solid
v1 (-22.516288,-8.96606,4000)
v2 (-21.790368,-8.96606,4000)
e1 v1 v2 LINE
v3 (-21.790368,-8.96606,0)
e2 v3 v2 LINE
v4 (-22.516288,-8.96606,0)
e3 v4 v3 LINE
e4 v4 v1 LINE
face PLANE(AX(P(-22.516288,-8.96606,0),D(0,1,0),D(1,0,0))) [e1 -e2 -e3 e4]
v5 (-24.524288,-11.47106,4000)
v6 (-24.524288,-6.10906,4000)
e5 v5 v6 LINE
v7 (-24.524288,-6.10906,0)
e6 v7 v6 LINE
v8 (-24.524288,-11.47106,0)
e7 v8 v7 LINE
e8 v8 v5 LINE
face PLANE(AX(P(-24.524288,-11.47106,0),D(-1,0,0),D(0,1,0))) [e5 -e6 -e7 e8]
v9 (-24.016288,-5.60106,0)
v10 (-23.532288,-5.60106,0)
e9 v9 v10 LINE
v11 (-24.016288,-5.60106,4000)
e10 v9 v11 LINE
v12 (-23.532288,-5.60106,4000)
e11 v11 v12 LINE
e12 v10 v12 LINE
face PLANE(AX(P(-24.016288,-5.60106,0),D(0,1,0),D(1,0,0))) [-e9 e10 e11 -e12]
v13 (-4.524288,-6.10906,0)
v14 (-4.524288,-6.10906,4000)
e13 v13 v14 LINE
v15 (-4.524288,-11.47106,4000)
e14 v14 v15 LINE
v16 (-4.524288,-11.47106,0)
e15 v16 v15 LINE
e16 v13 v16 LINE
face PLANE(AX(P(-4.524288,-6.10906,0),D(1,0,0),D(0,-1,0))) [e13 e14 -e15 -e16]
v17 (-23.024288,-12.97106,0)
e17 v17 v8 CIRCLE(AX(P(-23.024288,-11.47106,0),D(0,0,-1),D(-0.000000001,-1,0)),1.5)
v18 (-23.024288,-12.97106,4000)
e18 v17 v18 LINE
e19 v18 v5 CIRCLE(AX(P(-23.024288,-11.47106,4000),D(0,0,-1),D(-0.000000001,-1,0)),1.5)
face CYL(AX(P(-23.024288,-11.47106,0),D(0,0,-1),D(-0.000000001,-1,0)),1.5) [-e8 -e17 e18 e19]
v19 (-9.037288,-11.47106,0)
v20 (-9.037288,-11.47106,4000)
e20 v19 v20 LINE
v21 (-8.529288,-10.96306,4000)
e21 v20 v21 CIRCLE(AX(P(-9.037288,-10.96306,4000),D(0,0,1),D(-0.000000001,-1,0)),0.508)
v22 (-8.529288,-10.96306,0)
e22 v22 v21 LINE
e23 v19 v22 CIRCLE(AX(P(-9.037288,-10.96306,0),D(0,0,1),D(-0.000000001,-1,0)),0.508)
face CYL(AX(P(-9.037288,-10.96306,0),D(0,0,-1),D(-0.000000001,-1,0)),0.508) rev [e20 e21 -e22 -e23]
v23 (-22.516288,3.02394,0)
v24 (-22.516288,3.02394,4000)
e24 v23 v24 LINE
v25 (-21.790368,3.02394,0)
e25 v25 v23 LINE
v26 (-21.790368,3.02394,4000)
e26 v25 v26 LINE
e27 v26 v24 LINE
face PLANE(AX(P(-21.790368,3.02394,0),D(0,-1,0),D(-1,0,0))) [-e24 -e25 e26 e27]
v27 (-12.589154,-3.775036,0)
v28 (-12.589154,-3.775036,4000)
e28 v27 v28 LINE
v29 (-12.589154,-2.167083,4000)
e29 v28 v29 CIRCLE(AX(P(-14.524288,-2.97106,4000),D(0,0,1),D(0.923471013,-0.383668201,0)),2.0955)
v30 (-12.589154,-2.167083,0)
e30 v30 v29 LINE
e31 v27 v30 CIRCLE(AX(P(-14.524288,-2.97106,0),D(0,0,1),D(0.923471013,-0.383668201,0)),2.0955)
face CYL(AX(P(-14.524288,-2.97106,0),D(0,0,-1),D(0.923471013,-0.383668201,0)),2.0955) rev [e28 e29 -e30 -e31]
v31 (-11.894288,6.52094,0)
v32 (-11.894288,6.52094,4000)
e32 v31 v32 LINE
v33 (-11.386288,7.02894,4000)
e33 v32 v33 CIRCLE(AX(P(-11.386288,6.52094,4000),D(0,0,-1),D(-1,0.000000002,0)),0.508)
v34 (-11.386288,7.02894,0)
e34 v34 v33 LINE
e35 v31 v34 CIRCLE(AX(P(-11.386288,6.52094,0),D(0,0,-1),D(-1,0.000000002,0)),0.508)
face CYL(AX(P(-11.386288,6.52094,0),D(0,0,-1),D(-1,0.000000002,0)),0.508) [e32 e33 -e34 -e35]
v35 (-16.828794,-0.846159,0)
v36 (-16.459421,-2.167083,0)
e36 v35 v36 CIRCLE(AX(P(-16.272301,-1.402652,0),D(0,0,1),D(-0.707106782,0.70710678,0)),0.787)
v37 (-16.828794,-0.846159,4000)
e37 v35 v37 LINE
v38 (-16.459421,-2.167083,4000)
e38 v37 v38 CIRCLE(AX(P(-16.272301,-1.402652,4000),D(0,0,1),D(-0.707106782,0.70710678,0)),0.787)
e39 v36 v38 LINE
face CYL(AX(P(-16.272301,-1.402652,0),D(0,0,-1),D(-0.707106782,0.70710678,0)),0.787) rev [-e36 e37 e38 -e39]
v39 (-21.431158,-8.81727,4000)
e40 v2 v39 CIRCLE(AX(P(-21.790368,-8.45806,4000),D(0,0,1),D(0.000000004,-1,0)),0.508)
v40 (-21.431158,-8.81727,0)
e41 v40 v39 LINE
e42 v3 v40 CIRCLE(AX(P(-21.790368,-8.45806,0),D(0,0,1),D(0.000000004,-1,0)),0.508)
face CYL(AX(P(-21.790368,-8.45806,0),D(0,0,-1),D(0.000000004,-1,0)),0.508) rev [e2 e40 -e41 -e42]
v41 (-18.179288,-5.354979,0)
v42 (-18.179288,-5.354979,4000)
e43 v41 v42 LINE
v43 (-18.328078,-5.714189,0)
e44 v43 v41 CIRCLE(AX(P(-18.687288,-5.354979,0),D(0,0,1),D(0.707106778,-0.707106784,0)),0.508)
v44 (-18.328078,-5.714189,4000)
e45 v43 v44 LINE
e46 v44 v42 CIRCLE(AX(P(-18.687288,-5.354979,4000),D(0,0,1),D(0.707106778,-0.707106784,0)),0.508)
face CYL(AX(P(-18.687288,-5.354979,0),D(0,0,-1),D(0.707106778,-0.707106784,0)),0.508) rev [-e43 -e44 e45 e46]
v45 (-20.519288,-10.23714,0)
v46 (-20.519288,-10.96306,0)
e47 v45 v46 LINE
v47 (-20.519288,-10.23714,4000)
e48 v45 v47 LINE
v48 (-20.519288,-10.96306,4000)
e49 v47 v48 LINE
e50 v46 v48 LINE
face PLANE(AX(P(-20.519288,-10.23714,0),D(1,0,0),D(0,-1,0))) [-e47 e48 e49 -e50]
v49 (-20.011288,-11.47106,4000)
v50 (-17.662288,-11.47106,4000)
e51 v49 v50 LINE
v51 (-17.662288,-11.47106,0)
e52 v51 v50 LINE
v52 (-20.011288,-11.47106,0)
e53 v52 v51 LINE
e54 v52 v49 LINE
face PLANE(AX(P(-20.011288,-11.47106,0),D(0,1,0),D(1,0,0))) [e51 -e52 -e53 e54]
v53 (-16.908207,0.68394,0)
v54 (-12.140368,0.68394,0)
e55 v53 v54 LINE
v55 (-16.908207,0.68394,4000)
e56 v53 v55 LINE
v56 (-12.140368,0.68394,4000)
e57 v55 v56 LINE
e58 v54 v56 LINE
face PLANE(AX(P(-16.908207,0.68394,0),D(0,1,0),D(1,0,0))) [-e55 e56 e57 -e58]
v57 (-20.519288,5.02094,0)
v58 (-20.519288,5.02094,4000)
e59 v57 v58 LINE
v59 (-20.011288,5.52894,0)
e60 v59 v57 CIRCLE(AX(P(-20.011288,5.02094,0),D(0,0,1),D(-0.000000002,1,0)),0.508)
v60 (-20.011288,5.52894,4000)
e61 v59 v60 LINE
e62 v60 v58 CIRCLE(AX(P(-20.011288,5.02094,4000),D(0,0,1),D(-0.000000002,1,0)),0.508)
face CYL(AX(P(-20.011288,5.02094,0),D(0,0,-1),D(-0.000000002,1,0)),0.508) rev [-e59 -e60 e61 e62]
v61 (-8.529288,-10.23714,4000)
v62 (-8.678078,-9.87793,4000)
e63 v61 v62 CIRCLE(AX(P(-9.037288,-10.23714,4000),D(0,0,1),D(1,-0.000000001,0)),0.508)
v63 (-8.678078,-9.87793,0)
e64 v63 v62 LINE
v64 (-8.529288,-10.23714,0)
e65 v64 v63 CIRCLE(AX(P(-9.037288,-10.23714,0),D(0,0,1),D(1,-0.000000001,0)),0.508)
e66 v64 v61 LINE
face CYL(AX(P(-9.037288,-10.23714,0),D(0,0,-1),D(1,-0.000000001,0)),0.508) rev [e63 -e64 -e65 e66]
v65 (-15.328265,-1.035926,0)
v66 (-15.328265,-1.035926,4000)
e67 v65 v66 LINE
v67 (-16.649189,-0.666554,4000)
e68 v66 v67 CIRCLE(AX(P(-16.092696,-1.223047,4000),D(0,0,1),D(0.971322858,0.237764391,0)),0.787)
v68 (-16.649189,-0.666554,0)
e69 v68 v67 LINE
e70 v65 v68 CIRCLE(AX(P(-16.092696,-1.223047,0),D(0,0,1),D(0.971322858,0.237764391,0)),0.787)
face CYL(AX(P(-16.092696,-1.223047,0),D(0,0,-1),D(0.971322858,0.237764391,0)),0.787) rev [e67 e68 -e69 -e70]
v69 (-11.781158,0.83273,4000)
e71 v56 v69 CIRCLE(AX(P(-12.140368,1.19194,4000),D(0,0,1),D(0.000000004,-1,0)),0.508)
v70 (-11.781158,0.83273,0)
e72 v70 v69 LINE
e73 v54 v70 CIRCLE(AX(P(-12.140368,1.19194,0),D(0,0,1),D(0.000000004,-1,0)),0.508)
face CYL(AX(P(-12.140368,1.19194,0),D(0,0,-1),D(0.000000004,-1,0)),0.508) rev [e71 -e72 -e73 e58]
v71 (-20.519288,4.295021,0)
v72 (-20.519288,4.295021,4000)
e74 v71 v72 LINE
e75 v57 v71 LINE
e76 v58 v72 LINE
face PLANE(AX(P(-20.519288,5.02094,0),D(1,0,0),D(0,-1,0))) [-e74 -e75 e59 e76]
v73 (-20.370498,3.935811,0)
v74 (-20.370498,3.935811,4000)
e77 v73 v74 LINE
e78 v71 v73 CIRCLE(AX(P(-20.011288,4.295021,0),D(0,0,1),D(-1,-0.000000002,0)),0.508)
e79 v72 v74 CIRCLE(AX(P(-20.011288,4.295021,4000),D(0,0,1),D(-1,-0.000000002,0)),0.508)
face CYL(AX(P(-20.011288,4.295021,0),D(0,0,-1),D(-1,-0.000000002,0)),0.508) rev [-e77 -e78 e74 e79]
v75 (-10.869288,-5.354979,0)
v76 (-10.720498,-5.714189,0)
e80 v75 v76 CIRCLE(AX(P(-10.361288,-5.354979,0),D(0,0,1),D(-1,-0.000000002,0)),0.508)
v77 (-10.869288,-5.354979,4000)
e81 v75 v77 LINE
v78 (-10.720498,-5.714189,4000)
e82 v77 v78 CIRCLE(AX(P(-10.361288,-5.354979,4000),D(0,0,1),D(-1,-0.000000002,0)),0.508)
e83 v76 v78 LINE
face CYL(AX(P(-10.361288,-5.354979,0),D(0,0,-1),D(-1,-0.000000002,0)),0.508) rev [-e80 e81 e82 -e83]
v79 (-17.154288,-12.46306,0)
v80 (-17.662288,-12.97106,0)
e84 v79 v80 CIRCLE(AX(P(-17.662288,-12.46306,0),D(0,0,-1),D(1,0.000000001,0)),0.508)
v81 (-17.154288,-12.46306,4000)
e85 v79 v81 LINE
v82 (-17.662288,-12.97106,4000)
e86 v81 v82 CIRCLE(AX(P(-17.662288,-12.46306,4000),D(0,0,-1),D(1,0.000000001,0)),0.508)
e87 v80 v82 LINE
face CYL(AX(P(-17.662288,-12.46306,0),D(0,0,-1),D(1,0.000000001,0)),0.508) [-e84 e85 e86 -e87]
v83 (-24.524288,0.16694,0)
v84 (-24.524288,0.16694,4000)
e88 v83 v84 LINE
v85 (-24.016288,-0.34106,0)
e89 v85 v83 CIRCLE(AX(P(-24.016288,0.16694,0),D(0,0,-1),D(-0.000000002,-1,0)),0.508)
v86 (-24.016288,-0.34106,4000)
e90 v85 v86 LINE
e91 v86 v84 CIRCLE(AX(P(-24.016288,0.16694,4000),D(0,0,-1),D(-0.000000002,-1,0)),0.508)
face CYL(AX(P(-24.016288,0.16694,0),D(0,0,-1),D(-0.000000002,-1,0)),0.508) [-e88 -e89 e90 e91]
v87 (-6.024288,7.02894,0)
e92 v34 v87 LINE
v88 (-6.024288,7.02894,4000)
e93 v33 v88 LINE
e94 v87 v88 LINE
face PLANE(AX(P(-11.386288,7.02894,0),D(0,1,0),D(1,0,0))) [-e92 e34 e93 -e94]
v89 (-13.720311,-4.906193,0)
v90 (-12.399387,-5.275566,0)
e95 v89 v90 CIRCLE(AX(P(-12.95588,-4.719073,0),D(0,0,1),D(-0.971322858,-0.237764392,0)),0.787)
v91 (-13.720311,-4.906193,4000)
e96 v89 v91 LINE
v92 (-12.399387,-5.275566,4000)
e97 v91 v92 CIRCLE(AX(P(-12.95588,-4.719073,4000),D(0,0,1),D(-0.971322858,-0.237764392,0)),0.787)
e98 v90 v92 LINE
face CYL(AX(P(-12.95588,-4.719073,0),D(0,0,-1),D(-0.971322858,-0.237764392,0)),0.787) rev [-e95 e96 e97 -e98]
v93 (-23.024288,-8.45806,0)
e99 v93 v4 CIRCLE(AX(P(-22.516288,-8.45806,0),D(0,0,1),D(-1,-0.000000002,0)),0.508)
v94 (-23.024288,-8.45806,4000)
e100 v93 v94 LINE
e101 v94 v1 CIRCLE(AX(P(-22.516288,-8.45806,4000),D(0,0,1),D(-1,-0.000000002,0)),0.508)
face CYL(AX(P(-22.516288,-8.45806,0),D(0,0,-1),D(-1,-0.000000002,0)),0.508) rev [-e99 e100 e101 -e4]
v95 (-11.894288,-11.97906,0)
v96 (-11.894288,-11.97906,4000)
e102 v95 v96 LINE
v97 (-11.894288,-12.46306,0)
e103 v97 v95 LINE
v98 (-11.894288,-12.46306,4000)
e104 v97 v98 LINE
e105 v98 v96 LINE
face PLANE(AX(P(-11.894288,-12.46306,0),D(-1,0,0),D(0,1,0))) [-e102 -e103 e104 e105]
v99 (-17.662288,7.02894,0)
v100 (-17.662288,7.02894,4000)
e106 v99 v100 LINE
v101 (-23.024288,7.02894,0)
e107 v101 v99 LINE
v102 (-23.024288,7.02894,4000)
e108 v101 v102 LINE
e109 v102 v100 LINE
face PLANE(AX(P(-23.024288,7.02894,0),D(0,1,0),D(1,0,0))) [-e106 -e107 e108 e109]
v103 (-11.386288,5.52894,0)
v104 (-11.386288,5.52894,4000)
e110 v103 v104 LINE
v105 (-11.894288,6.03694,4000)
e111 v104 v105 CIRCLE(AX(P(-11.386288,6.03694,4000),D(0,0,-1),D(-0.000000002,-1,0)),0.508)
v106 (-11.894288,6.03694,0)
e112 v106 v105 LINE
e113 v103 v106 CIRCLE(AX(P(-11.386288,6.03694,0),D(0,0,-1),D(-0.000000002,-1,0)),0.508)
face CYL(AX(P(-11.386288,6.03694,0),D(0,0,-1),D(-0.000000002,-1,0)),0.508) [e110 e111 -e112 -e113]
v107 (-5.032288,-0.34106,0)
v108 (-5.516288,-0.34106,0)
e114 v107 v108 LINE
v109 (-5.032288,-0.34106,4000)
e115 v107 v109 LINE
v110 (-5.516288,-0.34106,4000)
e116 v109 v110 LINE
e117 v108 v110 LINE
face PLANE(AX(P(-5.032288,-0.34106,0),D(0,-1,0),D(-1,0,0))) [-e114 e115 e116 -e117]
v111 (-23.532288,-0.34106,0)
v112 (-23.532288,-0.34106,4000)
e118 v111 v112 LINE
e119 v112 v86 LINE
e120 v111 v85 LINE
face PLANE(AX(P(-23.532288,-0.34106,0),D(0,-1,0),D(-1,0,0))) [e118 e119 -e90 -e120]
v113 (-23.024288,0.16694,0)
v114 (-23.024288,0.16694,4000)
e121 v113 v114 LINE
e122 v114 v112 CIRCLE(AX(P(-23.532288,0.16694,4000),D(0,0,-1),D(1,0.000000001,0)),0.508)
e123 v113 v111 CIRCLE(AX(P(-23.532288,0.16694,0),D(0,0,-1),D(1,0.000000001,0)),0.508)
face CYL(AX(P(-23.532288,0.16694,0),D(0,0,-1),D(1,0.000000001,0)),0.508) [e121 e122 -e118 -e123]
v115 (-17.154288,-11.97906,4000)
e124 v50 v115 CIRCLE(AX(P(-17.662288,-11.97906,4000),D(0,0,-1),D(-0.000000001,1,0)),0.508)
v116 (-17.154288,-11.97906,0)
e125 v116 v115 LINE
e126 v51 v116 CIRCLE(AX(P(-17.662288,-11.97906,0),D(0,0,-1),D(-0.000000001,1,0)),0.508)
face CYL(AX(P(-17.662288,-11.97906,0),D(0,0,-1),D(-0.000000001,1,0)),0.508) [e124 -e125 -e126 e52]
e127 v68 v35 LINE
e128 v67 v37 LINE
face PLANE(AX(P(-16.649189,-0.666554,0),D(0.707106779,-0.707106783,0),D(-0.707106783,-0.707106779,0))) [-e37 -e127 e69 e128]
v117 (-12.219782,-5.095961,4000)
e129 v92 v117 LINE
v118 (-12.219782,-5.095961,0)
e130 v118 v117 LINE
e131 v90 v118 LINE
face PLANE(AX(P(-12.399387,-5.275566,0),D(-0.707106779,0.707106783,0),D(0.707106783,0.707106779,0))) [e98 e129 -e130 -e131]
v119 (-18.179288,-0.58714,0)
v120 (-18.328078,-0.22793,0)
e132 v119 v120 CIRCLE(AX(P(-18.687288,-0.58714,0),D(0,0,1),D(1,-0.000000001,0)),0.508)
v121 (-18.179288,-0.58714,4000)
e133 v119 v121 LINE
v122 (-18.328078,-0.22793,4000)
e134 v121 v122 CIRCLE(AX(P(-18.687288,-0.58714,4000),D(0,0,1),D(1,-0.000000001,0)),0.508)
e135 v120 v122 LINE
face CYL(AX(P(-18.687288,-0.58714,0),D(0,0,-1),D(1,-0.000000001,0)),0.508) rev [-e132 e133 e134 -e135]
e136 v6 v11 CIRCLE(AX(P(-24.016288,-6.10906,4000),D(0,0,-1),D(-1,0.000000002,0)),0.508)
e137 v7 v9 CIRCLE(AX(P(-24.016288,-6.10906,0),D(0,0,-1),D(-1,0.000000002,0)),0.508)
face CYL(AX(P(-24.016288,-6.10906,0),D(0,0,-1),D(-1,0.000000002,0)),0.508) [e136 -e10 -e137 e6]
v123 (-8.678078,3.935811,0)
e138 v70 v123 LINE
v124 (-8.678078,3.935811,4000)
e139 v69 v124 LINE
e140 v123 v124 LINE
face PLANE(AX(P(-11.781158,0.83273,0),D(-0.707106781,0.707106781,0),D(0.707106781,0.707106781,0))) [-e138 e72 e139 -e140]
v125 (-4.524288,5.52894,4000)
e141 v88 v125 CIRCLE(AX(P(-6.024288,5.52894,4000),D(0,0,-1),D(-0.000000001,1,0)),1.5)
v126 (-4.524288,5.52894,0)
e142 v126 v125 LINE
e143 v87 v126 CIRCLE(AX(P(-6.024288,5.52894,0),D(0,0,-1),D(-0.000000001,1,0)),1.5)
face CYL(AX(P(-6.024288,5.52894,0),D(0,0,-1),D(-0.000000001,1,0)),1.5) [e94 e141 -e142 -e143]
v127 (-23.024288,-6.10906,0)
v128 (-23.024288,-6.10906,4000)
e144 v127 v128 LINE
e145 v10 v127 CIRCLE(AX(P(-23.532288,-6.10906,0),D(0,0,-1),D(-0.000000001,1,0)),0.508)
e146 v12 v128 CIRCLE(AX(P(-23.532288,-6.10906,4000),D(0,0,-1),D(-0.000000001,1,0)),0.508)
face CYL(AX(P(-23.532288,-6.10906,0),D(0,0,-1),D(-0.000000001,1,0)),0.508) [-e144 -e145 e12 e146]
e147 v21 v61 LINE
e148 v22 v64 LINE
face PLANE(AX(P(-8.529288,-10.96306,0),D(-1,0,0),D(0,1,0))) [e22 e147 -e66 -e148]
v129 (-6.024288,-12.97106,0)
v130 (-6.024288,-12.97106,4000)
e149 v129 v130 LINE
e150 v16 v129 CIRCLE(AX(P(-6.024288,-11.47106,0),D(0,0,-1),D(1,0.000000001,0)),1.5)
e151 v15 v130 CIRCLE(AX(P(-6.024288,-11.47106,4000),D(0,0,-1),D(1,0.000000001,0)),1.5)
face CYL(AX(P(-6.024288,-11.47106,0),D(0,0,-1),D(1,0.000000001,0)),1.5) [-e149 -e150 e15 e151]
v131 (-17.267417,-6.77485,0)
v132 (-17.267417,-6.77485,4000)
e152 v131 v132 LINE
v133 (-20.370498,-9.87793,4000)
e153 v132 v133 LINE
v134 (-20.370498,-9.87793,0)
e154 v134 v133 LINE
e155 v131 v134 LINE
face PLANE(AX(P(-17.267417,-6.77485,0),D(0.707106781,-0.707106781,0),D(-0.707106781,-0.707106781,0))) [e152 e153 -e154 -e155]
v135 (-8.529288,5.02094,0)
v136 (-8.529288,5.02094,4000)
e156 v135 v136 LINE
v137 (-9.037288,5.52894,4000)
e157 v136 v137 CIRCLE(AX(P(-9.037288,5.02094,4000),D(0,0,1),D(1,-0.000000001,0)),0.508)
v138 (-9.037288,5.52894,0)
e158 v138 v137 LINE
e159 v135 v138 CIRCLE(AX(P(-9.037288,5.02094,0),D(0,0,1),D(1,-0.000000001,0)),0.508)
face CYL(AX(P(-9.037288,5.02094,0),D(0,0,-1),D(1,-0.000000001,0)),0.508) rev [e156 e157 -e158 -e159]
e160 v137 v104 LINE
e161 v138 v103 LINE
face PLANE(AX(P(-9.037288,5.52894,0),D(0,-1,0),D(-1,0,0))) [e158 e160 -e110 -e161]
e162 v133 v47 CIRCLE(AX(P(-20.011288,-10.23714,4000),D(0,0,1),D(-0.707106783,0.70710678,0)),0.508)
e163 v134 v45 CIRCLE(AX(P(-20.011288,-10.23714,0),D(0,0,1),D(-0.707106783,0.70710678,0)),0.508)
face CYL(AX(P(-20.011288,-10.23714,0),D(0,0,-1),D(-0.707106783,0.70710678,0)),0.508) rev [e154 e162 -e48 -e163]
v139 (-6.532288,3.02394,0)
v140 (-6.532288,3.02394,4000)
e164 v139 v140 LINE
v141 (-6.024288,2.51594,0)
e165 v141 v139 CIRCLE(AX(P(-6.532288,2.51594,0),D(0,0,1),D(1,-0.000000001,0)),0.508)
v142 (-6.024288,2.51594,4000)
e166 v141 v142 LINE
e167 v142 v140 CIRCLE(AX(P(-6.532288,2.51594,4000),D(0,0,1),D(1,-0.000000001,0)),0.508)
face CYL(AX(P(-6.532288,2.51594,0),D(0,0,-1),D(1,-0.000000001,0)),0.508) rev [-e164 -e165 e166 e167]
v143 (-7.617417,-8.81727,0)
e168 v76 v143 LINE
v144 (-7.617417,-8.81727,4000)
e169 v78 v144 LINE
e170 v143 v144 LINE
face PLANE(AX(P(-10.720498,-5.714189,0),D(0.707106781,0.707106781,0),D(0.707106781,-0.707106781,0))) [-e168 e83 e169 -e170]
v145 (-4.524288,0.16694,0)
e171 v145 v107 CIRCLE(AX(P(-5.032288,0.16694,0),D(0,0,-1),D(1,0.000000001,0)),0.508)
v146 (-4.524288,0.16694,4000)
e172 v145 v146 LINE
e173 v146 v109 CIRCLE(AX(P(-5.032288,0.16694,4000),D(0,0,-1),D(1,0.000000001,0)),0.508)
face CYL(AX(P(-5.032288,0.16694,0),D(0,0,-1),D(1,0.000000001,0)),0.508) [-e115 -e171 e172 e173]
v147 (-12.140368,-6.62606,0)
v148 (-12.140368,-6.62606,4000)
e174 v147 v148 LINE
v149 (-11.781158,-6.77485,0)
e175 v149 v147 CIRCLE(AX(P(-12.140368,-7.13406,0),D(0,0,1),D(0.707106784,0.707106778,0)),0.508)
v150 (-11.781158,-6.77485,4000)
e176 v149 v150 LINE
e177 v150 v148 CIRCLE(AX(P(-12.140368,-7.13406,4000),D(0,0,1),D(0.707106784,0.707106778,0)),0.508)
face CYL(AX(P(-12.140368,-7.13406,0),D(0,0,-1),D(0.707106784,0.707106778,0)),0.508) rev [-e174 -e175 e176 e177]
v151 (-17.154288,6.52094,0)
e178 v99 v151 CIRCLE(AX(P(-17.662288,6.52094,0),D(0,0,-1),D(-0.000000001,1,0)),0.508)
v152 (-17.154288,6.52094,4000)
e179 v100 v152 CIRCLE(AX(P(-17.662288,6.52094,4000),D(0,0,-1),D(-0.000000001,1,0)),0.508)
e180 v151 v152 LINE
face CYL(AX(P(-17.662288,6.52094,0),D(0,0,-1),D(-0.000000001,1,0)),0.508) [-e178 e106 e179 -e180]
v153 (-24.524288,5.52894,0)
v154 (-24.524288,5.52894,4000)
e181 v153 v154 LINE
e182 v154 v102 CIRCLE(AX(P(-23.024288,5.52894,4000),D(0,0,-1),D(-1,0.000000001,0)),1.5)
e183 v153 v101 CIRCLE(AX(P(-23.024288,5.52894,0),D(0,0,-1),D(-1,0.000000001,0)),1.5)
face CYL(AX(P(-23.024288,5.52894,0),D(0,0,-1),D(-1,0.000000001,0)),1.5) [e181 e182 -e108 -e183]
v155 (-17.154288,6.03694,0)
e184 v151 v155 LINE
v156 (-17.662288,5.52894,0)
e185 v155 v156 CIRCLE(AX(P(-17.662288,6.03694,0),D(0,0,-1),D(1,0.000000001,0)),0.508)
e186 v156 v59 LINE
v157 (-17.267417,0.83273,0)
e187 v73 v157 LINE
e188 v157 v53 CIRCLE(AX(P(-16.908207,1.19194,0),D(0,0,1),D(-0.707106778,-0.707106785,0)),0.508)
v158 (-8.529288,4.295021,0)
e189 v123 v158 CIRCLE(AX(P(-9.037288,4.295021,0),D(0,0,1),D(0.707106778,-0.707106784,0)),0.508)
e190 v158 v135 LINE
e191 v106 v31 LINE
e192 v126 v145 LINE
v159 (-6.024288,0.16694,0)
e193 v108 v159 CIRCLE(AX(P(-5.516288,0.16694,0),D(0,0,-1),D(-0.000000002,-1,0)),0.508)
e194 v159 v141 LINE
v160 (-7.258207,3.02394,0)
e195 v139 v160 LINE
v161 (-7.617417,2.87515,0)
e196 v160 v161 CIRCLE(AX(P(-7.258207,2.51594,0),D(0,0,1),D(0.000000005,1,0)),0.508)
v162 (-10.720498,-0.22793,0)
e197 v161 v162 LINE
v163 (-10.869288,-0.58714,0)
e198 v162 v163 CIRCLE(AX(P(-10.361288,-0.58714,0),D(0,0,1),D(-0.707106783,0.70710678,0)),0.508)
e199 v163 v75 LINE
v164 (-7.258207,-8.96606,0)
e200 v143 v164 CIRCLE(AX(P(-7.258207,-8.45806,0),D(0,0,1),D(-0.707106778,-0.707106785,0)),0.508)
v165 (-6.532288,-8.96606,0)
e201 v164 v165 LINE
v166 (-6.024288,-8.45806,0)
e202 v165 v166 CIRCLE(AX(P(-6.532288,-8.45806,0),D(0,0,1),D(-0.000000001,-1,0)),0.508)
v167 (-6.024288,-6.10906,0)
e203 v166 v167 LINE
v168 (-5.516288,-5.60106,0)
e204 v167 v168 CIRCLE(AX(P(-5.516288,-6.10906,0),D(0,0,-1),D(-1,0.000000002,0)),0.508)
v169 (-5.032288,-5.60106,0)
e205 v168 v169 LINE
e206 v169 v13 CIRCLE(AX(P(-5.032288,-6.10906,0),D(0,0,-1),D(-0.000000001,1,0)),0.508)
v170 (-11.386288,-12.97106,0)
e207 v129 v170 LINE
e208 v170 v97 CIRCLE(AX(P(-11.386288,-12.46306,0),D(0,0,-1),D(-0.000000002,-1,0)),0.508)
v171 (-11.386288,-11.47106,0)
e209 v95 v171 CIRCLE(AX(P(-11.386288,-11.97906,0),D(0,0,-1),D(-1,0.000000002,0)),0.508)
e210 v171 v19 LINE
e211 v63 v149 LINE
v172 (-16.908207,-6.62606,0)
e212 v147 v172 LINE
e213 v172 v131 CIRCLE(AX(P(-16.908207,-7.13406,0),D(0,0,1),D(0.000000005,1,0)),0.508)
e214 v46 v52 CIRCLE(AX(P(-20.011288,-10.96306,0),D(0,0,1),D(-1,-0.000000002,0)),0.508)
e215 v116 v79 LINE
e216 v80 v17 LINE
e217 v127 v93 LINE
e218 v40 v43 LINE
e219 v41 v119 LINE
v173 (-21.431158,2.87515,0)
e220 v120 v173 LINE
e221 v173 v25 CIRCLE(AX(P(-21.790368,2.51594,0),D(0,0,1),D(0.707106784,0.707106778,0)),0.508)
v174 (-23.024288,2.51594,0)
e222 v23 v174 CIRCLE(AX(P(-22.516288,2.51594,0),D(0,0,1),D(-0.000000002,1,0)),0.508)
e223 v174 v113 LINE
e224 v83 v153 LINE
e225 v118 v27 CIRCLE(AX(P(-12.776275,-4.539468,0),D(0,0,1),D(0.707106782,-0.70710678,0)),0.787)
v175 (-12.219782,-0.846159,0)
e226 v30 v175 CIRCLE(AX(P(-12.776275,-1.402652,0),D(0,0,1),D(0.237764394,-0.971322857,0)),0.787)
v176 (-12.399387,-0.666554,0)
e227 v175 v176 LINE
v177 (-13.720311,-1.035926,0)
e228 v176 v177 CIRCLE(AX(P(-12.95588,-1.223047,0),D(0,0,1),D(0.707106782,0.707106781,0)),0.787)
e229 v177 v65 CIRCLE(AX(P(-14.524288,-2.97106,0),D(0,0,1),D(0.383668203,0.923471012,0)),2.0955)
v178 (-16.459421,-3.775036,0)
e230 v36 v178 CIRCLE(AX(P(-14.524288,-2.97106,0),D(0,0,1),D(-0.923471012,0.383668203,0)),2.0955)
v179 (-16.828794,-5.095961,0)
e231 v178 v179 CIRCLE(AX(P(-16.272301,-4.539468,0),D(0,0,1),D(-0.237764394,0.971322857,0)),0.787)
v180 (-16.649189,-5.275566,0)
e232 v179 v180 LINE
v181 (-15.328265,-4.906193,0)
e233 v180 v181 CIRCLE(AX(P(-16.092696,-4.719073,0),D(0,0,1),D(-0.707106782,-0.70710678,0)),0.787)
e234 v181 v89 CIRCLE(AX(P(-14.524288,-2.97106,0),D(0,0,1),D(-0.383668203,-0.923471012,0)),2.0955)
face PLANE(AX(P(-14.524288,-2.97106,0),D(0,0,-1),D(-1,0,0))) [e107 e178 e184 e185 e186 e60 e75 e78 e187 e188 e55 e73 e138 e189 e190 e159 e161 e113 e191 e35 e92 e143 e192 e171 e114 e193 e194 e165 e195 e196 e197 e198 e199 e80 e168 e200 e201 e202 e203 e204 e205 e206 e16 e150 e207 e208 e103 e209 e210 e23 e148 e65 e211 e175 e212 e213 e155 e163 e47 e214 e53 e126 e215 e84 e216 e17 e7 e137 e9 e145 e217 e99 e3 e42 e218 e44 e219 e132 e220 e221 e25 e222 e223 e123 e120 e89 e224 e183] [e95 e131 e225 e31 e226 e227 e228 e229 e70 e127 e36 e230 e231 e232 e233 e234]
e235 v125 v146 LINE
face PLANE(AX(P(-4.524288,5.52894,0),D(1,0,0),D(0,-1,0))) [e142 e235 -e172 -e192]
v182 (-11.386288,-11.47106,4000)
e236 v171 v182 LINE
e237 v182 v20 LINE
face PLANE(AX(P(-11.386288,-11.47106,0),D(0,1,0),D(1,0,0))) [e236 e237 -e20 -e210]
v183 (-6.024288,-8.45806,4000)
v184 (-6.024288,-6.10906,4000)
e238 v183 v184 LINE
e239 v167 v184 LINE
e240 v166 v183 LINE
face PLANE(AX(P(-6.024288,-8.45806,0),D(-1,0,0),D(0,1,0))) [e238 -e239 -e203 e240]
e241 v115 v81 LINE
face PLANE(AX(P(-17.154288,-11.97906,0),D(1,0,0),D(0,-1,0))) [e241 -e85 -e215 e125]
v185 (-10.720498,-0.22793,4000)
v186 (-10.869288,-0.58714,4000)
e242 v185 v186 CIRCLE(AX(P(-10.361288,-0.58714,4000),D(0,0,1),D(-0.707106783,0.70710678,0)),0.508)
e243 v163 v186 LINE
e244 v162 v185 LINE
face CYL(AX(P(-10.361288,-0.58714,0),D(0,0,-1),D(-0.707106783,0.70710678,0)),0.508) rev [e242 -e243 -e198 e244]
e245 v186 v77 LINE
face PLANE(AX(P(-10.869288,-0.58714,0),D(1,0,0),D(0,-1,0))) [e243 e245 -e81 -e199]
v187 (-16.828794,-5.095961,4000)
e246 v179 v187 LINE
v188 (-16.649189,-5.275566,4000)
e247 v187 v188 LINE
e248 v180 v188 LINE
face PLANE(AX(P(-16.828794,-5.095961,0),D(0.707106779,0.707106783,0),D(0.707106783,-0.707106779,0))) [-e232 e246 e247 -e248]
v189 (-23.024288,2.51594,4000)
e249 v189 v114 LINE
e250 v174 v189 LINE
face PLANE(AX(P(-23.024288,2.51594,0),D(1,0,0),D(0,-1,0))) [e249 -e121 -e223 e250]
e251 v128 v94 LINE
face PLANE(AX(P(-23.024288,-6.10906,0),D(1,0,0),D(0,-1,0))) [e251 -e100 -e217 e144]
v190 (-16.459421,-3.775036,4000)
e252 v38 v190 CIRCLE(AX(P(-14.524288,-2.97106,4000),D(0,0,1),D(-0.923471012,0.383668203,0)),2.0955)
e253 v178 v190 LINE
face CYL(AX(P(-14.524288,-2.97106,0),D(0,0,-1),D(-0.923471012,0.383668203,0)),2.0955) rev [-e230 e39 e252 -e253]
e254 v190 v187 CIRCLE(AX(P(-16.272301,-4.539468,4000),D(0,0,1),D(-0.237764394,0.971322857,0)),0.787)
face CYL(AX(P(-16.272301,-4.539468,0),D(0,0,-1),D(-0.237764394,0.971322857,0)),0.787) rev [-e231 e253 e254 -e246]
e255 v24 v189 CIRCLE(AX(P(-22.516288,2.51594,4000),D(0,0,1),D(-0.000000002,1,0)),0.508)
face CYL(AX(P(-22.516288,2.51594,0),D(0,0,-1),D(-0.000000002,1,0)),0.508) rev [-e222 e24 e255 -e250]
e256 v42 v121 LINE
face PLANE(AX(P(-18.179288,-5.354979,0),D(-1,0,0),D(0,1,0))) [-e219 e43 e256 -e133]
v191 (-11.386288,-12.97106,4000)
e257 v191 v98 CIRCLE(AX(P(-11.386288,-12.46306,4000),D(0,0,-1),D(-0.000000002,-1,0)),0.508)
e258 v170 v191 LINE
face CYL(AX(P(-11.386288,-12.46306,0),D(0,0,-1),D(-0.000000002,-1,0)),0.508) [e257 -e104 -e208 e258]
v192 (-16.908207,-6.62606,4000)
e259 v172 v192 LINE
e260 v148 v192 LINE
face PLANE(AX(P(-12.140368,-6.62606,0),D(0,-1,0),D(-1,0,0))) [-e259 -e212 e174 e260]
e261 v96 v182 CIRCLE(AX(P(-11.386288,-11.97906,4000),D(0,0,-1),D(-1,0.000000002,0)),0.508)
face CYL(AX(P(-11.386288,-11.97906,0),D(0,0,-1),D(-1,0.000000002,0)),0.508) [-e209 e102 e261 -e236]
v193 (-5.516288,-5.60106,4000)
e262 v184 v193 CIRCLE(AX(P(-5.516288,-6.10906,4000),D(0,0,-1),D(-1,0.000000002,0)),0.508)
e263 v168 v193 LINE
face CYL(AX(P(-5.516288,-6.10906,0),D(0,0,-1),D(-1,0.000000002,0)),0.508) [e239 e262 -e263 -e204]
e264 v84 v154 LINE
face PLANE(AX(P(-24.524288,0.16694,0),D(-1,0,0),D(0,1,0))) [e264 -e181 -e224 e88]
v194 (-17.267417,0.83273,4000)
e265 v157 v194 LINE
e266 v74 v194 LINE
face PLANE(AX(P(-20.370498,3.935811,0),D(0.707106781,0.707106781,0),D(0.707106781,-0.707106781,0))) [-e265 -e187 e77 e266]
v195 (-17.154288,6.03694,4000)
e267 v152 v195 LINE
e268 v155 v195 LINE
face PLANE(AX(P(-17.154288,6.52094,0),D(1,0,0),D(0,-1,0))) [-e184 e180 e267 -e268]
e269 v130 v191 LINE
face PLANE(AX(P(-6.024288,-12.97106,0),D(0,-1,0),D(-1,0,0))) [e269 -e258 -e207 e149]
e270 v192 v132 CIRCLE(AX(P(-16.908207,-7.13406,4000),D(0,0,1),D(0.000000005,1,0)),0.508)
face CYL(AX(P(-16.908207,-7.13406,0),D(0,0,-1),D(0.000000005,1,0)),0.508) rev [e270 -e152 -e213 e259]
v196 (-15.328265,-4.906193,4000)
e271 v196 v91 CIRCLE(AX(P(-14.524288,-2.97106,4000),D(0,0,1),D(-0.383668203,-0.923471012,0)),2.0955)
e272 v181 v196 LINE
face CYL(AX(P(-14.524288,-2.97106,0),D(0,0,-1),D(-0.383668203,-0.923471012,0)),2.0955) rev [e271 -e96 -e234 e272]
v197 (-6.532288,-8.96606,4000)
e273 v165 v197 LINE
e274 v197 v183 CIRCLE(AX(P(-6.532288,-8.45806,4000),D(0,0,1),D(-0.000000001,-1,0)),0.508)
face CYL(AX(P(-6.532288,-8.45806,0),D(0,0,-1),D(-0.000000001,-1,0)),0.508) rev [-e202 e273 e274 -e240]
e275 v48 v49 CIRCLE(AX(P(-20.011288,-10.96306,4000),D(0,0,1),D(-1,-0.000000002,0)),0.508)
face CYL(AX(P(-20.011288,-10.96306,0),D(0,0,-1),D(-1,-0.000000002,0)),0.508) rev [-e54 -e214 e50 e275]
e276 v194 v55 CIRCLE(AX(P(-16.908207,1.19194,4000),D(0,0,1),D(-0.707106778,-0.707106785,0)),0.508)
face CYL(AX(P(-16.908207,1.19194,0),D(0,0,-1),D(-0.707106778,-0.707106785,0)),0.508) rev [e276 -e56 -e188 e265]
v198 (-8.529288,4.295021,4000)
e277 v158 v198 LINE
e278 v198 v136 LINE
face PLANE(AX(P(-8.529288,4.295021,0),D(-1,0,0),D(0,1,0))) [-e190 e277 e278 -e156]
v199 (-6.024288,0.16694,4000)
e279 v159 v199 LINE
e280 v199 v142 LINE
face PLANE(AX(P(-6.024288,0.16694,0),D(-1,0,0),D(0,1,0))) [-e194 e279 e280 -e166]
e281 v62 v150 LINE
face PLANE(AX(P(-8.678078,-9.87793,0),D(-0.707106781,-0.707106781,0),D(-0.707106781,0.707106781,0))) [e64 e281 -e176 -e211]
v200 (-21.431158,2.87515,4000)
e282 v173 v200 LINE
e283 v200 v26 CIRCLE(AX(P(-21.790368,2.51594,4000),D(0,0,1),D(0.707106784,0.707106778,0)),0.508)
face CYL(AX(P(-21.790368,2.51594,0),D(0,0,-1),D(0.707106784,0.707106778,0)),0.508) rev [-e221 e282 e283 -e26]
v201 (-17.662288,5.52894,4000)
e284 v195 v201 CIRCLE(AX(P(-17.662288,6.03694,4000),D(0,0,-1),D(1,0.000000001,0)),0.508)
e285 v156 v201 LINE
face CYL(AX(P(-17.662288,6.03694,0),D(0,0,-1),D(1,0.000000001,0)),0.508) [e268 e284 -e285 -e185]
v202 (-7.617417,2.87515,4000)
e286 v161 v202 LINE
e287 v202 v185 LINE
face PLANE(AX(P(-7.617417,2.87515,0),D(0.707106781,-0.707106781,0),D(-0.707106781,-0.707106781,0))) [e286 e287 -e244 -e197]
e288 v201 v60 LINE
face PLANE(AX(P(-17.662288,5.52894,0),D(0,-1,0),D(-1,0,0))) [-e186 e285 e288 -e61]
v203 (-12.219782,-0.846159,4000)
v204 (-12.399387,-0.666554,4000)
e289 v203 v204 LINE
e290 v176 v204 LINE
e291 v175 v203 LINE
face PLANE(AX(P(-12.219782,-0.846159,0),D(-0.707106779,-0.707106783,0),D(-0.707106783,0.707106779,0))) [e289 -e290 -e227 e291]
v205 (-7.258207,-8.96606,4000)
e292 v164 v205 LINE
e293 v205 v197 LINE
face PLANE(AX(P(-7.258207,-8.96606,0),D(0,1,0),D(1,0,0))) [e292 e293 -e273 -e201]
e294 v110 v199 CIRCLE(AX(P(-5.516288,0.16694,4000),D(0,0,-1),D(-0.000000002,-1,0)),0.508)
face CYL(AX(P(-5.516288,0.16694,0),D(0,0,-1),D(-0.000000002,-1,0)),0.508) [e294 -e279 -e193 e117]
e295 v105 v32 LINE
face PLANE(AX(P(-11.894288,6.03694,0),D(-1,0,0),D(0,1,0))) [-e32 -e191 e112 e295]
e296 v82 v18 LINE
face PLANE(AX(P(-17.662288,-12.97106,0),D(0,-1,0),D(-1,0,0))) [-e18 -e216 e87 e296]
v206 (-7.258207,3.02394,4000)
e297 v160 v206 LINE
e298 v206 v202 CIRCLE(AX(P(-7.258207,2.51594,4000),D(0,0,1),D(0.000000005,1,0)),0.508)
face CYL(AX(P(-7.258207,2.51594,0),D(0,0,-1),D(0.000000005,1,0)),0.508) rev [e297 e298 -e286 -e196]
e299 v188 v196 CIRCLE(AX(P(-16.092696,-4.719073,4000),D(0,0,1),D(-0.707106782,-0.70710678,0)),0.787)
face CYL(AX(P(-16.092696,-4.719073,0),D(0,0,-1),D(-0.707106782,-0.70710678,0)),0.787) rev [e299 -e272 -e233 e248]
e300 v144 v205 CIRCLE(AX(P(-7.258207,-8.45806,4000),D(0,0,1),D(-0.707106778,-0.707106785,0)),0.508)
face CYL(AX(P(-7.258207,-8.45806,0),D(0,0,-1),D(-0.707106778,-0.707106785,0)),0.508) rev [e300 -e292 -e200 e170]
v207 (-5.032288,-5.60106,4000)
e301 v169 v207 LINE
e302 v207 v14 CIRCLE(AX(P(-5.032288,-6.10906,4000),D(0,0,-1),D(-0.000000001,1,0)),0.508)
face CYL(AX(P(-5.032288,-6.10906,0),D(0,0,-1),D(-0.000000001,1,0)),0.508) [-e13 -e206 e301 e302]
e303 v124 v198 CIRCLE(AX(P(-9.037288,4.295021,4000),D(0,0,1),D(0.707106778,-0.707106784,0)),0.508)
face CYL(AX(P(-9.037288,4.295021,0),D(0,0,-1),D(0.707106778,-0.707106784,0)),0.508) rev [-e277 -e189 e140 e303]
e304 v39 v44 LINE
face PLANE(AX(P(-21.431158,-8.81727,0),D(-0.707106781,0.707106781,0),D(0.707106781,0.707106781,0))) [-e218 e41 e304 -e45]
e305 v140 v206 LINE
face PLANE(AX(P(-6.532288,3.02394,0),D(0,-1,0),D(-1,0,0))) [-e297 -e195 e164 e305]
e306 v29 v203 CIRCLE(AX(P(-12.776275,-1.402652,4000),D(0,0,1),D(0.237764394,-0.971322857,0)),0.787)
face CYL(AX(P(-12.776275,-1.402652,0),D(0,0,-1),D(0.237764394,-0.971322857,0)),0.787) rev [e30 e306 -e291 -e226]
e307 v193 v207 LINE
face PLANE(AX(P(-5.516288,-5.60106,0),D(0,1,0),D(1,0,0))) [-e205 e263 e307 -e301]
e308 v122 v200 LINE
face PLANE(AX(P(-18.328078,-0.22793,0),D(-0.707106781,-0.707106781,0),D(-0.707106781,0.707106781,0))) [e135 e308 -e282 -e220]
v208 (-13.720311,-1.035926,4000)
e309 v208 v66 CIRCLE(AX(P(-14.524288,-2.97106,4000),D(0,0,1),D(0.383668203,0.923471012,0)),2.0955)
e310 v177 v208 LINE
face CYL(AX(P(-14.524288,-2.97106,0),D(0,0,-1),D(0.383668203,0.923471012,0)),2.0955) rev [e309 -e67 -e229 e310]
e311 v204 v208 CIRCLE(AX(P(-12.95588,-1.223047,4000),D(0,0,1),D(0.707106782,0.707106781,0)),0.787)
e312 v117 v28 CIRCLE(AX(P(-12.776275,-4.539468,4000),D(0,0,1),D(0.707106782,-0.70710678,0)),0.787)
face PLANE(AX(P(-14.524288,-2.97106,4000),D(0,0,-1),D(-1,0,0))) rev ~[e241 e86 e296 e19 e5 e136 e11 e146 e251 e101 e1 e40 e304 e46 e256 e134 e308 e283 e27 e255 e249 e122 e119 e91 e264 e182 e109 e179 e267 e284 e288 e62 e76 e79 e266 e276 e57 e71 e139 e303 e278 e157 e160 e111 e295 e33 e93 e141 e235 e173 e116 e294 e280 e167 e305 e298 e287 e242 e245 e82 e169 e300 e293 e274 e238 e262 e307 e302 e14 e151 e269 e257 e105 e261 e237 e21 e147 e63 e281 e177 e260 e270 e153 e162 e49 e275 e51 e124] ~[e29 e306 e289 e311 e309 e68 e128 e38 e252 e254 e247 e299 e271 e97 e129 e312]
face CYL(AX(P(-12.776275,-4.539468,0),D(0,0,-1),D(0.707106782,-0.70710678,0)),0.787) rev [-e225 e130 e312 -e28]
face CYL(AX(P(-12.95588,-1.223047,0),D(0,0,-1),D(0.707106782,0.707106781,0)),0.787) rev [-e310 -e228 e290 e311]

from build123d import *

# Parameters (mm, degrees)
EXTRUDE1_DEPTH = 4000


with BuildPart() as part:
    # Sketch1 → Extrude1 (new body)
    with BuildSketch(Plane.XY):
        with BuildLine():
            Line((-5.032287798, -0.341059771), (-5.516287798, -0.341059771))
            ThreePointArc((-5.516287798, -0.341059771), (-5.875498042, -0.192270016), (-6.024287798, 0.166940229))
            Line((-6.024287798, 0.166940229), (-6.024287798, 2.515940229))
            ThreePointArc((-6.024287798, 2.515940229), (-6.173077553, 2.875150474), (-6.532287798, 3.023940229))
            Line((-6.532287798, 3.023940229), (-7.258207136, 3.023940229))
            ThreePointArc((-7.258207136, 3.023940229), (-7.45261032, 2.985271032), (-7.617417381, 2.875150474))
            Line((-7.617417381, 2.875150474), (-10.720498042, -0.227930187))
            ThreePointArc((-10.720498042, -0.227930187), (-10.8306186, -0.392737249), (-10.869287798, -0.587140432))
            Line((-10.869287798, -0.587140432), (-10.869287798, -5.354979109))
            ThreePointArc((-10.869287798, -5.354979109), (-10.8306186, -5.549382293), (-10.720498042, -5.714189354))
            Line((-10.720498042, -5.714189354), (-7.617417381, -8.817270016))
            ThreePointArc((-7.617417381, -8.817270016), (-7.45261032, -8.927390573), (-7.258207136, -8.966059771))
            Line((-7.258207136, -8.966059771), (-6.532287798, -8.966059771))
            ThreePointArc((-6.532287798, -8.966059771), (-6.173077553, -8.817270016), (-6.024287798, -8.458059771))
            Line((-6.024287798, -8.458059771), (-6.024287798, -6.109059771))
            ThreePointArc((-6.024287798, -6.109059771), (-5.875498042, -5.749849526), (-5.516287798, -5.601059771))
            Line((-5.516287798, -5.601059771), (-5.032287798, -5.601059771))
            ThreePointArc((-5.032287798, -5.601059771), (-4.673077553, -5.749849526), (-4.524287798, -6.109059771))
            Line((-4.524287798, -6.109059771), (-4.524287798, -11.471059771))
            ThreePointArc((-4.524287798, -11.471059771), (-4.963627626, -12.531719943), (-6.024287798, -12.971059771))
            Line((-6.024287798, -12.971059771), (-11.386287798, -12.971059771))
            ThreePointArc((-11.386287798, -12.971059771), (-11.745498042, -12.822270016), (-11.894287798, -12.463059771))
            Line((-11.894287798, -12.463059771), (-11.894287798, -11.979059771))
            ThreePointArc((-11.894287798, -11.979059771), (-11.745498042, -11.619849526), (-11.386287798, -11.471059771))
            Line((-11.386287798, -11.471059771), (-9.037287798, -11.471059771))
            ThreePointArc((-9.037287798, -11.471059771), (-8.678077553, -11.322270016), (-8.529287798, -10.963059771))
            Line((-8.529287798, -10.963059771), (-8.529287798, -10.237140432))
            ThreePointArc((-8.529287798, -10.237140432), (-8.567956995, -10.042737249), (-8.678077553, -9.877930187))
            Line((-8.678077553, -9.877930187), (-11.781158214, -6.774849526))
            ThreePointArc((-11.781158214, -6.774849526), (-11.945965275, -6.664728968), (-12.140368459, -6.626059771))
            Line((-12.140368459, -6.626059771), (-16.908207136, -6.626059771))
            ThreePointArc((-16.908207136, -6.626059771), (-17.10261032, -6.664728968), (-17.267417381, -6.774849526))
            Line((-17.267417381, -6.774849526), (-20.370498042, -9.877930187))
            ThreePointArc((-20.370498042, -9.877930187), (-20.4806186, -10.042737249), (-20.519287798, -10.237140432))
            Line((-20.519287798, -10.237140432), (-20.519287798, -10.963059771))
            ThreePointArc((-20.519287798, -10.963059771), (-20.370498042, -11.322270016), (-20.011287798, -11.471059771))
            Line((-20.011287798, -11.471059771), (-17.662287798, -11.471059771))
            ThreePointArc((-17.662287798, -11.471059771), (-17.303077553, -11.619849526), (-17.154287798, -11.979059771))
            Line((-17.154287798, -11.979059771), (-17.154287798, -12.463059771))
            ThreePointArc((-17.154287798, -12.463059771), (-17.303077553, -12.822270016), (-17.662287798, -12.971059771))
            Line((-17.662287798, -12.971059771), (-23.024287798, -12.971059771))
            ThreePointArc((-23.024287798, -12.971059771), (-24.084947969, -12.531719943), (-24.524287798, -11.471059771))
            Line((-24.524287798, -11.471059771), (-24.524287798, -6.109059771))
            ThreePointArc((-24.524287798, -6.109059771), (-24.375498042, -5.749849526), (-24.016287798, -5.601059771))
            Line((-24.016287798, -5.601059771), (-23.532287798, -5.601059771))
            ThreePointArc((-23.532287798, -5.601059771), (-23.173077553, -5.749849526), (-23.024287798, -6.109059771))
            Line((-23.024287798, -6.109059771), (-23.024287798, -8.458059771))
            ThreePointArc((-23.024287798, -8.458059771), (-22.875498042, -8.817270016), (-22.516287798, -8.966059771))
            Line((-22.516287798, -8.966059771), (-21.790368459, -8.966059771))
            ThreePointArc((-21.790368459, -8.966059771), (-21.595965275, -8.927390573), (-21.431158214, -8.817270016))
            Line((-21.431158214, -8.817270016), (-18.328077553, -5.714189354))
            ThreePointArc((-18.328077553, -5.714189354), (-18.217956995, -5.549382293), (-18.179287798, -5.354979109))
            Line((-18.179287798, -5.354979109), (-18.179287798, -0.587140432))
            ThreePointArc((-18.179287798, -0.587140432), (-18.217956995, -0.392737249), (-18.328077553, -0.227930187))
            Line((-18.328077553, -0.227930187), (-21.431158214, 2.875150474))
            ThreePointArc((-21.431158214, 2.875150474), (-21.595965275, 2.985271032), (-21.790368459, 3.023940229))
            Line((-21.790368459, 3.023940229), (-22.516287798, 3.023940229))
            ThreePointArc((-22.516287798, 3.023940229), (-22.875498042, 2.875150474), (-23.024287798, 2.515940229))
            Line((-23.024287798, 2.515940229), (-23.024287798, 0.166940229))
            ThreePointArc((-23.024287798, 0.166940229), (-23.173077553, -0.192270016), (-23.532287798, -0.341059771))
            Line((-23.532287798, -0.341059771), (-24.016287798, -0.341059771))
            ThreePointArc((-24.016287798, -0.341059771), (-24.375498042, -0.192270016), (-24.524287798, 0.166940229))
            Line((-24.524287798, 0.166940229), (-24.524287798, 5.528940229))
            ThreePointArc((-24.524287798, 5.528940229), (-24.084947969, 6.589600401), (-23.024287798, 7.028940229))
            Line((-23.024287798, 7.028940229), (-17.662287798, 7.028940229))
            ThreePointArc((-17.662287798, 7.028940229), (-17.303077553, 6.880150474), (-17.154287798, 6.520940229))
            Line((-17.154287798, 6.520940229), (-17.154287798, 6.036940229))
            ThreePointArc((-17.154287798, 6.036940229), (-17.303077553, 5.677729984), (-17.662287798, 5.528940229))
            Line((-17.662287798, 5.528940229), (-20.011287798, 5.528940229))
            ThreePointArc((-20.011287798, 5.528940229), (-20.370498042, 5.380150474), (-20.519287798, 5.020940229))
            Line((-20.519287798, 5.020940229), (-20.519287798, 4.295020891))
            ThreePointArc((-20.519287798, 4.295020891), (-20.4806186, 4.100617707), (-20.370498042, 3.935810646))
            Line((-20.370498042, 3.935810646), (-17.267417381, 0.832729984))
            ThreePointArc((-17.267417381, 0.832729984), (-17.10261032, 0.722609427), (-16.908207136, 0.683940229))
            Line((-16.908207136, 0.683940229), (-12.140368459, 0.683940229))
            ThreePointArc((-12.140368459, 0.683940229), (-11.945965275, 0.722609427), (-11.781158214, 0.832729984))
            Line((-11.781158214, 0.832729984), (-8.678077553, 3.935810646))
            ThreePointArc((-8.678077553, 3.935810646), (-8.567956995, 4.100617707), (-8.529287798, 4.295020891))
            Line((-8.529287798, 4.295020891), (-8.529287798, 5.020940229))
            ThreePointArc((-8.529287798, 5.020940229), (-8.678077553, 5.380150474), (-9.037287798, 5.528940229))
            Line((-9.037287798, 5.528940229), (-11.386287798, 5.528940229))
            ThreePointArc((-11.386287798, 5.528940229), (-11.745498042, 5.677729984), (-11.894287798, 6.036940229))
            Line((-11.894287798, 6.036940229), (-11.894287798, 6.520940229))
            ThreePointArc((-11.894287798, 6.520940229), (-11.745498042, 6.880150474), (-11.386287798, 7.028940229))
            Line((-11.386287798, 7.028940229), (-6.024287798, 7.028940229))
            ThreePointArc((-6.024287798, 7.028940229), (-4.963627626, 6.589600401), (-4.524287798, 5.528940229))
            Line((-4.524287798, 5.528940229), (-4.524287798, 0.166940229))
            ThreePointArc((-4.524287798, 0.166940229), (-4.673077553, -0.192270016), (-5.032287798, -0.341059771))
        make_face()
        with BuildLine():
            Line((-12.399386954, -5.275565737), (-12.219781831, -5.095960615))
            ThreePointArc((-12.219781831, -5.095960615), (-12.018349781, -4.327527582), (-12.589154291, -3.775036489))
            ThreePointArc((-12.589154291, -3.775036489), (-12.428787798, -2.971059771), (-12.589154291, -2.167083053))
            ThreePointArc((-12.589154291, -2.167083053), (-12.018349781, -1.61459196), (-12.219781831, -0.846158927))
            Line((-12.219781831, -0.846158927), (-12.399386954, -0.666553805))
            ThreePointArc((-12.399386954, -0.666553805), (-13.167819987, -0.465121754), (-13.72031108, -1.035926265))
            ThreePointArc((-13.72031108, -1.035926265), (-14.524287798, -0.875559771), (-15.328264516, -1.035926265))
            ThreePointArc((-15.328264516, -1.035926265), (-15.880755608, -0.465121754), (-16.649188641, -0.666553805))
            Line((-16.649188641, -0.666553805), (-16.828793764, -0.846158927))
            ThreePointArc((-16.828793764, -0.846158927), (-17.030225814, -1.61459196), (-16.459421304, -2.167083053))
            ThreePointArc((-16.459421304, -2.167083053), (-16.619787798, -2.971059771), (-16.459421304, -3.775036489))
            ThreePointArc((-16.459421304, -3.775036489), (-17.030225814, -4.327527582), (-16.828793764, -5.095960615))
            Line((-16.828793764, -5.095960615), (-16.649188641, -5.275565737))
            ThreePointArc((-16.649188641, -5.275565737), (-15.880755608, -5.476997788), (-15.328264516, -4.906193277))
            ThreePointArc((-15.328264516, -4.906193277), (-14.524287798, -5.066559771), (-13.72031108, -4.906193277))
            ThreePointArc((-13.72031108, -4.906193277), (-13.167819987, -5.476997788), (-12.399386954, -5.275565737))
        make_face(mode=Mode.SUBTRACT)
    extrude(amount=EXTRUDE1_DEPTH)


solid = part.part
